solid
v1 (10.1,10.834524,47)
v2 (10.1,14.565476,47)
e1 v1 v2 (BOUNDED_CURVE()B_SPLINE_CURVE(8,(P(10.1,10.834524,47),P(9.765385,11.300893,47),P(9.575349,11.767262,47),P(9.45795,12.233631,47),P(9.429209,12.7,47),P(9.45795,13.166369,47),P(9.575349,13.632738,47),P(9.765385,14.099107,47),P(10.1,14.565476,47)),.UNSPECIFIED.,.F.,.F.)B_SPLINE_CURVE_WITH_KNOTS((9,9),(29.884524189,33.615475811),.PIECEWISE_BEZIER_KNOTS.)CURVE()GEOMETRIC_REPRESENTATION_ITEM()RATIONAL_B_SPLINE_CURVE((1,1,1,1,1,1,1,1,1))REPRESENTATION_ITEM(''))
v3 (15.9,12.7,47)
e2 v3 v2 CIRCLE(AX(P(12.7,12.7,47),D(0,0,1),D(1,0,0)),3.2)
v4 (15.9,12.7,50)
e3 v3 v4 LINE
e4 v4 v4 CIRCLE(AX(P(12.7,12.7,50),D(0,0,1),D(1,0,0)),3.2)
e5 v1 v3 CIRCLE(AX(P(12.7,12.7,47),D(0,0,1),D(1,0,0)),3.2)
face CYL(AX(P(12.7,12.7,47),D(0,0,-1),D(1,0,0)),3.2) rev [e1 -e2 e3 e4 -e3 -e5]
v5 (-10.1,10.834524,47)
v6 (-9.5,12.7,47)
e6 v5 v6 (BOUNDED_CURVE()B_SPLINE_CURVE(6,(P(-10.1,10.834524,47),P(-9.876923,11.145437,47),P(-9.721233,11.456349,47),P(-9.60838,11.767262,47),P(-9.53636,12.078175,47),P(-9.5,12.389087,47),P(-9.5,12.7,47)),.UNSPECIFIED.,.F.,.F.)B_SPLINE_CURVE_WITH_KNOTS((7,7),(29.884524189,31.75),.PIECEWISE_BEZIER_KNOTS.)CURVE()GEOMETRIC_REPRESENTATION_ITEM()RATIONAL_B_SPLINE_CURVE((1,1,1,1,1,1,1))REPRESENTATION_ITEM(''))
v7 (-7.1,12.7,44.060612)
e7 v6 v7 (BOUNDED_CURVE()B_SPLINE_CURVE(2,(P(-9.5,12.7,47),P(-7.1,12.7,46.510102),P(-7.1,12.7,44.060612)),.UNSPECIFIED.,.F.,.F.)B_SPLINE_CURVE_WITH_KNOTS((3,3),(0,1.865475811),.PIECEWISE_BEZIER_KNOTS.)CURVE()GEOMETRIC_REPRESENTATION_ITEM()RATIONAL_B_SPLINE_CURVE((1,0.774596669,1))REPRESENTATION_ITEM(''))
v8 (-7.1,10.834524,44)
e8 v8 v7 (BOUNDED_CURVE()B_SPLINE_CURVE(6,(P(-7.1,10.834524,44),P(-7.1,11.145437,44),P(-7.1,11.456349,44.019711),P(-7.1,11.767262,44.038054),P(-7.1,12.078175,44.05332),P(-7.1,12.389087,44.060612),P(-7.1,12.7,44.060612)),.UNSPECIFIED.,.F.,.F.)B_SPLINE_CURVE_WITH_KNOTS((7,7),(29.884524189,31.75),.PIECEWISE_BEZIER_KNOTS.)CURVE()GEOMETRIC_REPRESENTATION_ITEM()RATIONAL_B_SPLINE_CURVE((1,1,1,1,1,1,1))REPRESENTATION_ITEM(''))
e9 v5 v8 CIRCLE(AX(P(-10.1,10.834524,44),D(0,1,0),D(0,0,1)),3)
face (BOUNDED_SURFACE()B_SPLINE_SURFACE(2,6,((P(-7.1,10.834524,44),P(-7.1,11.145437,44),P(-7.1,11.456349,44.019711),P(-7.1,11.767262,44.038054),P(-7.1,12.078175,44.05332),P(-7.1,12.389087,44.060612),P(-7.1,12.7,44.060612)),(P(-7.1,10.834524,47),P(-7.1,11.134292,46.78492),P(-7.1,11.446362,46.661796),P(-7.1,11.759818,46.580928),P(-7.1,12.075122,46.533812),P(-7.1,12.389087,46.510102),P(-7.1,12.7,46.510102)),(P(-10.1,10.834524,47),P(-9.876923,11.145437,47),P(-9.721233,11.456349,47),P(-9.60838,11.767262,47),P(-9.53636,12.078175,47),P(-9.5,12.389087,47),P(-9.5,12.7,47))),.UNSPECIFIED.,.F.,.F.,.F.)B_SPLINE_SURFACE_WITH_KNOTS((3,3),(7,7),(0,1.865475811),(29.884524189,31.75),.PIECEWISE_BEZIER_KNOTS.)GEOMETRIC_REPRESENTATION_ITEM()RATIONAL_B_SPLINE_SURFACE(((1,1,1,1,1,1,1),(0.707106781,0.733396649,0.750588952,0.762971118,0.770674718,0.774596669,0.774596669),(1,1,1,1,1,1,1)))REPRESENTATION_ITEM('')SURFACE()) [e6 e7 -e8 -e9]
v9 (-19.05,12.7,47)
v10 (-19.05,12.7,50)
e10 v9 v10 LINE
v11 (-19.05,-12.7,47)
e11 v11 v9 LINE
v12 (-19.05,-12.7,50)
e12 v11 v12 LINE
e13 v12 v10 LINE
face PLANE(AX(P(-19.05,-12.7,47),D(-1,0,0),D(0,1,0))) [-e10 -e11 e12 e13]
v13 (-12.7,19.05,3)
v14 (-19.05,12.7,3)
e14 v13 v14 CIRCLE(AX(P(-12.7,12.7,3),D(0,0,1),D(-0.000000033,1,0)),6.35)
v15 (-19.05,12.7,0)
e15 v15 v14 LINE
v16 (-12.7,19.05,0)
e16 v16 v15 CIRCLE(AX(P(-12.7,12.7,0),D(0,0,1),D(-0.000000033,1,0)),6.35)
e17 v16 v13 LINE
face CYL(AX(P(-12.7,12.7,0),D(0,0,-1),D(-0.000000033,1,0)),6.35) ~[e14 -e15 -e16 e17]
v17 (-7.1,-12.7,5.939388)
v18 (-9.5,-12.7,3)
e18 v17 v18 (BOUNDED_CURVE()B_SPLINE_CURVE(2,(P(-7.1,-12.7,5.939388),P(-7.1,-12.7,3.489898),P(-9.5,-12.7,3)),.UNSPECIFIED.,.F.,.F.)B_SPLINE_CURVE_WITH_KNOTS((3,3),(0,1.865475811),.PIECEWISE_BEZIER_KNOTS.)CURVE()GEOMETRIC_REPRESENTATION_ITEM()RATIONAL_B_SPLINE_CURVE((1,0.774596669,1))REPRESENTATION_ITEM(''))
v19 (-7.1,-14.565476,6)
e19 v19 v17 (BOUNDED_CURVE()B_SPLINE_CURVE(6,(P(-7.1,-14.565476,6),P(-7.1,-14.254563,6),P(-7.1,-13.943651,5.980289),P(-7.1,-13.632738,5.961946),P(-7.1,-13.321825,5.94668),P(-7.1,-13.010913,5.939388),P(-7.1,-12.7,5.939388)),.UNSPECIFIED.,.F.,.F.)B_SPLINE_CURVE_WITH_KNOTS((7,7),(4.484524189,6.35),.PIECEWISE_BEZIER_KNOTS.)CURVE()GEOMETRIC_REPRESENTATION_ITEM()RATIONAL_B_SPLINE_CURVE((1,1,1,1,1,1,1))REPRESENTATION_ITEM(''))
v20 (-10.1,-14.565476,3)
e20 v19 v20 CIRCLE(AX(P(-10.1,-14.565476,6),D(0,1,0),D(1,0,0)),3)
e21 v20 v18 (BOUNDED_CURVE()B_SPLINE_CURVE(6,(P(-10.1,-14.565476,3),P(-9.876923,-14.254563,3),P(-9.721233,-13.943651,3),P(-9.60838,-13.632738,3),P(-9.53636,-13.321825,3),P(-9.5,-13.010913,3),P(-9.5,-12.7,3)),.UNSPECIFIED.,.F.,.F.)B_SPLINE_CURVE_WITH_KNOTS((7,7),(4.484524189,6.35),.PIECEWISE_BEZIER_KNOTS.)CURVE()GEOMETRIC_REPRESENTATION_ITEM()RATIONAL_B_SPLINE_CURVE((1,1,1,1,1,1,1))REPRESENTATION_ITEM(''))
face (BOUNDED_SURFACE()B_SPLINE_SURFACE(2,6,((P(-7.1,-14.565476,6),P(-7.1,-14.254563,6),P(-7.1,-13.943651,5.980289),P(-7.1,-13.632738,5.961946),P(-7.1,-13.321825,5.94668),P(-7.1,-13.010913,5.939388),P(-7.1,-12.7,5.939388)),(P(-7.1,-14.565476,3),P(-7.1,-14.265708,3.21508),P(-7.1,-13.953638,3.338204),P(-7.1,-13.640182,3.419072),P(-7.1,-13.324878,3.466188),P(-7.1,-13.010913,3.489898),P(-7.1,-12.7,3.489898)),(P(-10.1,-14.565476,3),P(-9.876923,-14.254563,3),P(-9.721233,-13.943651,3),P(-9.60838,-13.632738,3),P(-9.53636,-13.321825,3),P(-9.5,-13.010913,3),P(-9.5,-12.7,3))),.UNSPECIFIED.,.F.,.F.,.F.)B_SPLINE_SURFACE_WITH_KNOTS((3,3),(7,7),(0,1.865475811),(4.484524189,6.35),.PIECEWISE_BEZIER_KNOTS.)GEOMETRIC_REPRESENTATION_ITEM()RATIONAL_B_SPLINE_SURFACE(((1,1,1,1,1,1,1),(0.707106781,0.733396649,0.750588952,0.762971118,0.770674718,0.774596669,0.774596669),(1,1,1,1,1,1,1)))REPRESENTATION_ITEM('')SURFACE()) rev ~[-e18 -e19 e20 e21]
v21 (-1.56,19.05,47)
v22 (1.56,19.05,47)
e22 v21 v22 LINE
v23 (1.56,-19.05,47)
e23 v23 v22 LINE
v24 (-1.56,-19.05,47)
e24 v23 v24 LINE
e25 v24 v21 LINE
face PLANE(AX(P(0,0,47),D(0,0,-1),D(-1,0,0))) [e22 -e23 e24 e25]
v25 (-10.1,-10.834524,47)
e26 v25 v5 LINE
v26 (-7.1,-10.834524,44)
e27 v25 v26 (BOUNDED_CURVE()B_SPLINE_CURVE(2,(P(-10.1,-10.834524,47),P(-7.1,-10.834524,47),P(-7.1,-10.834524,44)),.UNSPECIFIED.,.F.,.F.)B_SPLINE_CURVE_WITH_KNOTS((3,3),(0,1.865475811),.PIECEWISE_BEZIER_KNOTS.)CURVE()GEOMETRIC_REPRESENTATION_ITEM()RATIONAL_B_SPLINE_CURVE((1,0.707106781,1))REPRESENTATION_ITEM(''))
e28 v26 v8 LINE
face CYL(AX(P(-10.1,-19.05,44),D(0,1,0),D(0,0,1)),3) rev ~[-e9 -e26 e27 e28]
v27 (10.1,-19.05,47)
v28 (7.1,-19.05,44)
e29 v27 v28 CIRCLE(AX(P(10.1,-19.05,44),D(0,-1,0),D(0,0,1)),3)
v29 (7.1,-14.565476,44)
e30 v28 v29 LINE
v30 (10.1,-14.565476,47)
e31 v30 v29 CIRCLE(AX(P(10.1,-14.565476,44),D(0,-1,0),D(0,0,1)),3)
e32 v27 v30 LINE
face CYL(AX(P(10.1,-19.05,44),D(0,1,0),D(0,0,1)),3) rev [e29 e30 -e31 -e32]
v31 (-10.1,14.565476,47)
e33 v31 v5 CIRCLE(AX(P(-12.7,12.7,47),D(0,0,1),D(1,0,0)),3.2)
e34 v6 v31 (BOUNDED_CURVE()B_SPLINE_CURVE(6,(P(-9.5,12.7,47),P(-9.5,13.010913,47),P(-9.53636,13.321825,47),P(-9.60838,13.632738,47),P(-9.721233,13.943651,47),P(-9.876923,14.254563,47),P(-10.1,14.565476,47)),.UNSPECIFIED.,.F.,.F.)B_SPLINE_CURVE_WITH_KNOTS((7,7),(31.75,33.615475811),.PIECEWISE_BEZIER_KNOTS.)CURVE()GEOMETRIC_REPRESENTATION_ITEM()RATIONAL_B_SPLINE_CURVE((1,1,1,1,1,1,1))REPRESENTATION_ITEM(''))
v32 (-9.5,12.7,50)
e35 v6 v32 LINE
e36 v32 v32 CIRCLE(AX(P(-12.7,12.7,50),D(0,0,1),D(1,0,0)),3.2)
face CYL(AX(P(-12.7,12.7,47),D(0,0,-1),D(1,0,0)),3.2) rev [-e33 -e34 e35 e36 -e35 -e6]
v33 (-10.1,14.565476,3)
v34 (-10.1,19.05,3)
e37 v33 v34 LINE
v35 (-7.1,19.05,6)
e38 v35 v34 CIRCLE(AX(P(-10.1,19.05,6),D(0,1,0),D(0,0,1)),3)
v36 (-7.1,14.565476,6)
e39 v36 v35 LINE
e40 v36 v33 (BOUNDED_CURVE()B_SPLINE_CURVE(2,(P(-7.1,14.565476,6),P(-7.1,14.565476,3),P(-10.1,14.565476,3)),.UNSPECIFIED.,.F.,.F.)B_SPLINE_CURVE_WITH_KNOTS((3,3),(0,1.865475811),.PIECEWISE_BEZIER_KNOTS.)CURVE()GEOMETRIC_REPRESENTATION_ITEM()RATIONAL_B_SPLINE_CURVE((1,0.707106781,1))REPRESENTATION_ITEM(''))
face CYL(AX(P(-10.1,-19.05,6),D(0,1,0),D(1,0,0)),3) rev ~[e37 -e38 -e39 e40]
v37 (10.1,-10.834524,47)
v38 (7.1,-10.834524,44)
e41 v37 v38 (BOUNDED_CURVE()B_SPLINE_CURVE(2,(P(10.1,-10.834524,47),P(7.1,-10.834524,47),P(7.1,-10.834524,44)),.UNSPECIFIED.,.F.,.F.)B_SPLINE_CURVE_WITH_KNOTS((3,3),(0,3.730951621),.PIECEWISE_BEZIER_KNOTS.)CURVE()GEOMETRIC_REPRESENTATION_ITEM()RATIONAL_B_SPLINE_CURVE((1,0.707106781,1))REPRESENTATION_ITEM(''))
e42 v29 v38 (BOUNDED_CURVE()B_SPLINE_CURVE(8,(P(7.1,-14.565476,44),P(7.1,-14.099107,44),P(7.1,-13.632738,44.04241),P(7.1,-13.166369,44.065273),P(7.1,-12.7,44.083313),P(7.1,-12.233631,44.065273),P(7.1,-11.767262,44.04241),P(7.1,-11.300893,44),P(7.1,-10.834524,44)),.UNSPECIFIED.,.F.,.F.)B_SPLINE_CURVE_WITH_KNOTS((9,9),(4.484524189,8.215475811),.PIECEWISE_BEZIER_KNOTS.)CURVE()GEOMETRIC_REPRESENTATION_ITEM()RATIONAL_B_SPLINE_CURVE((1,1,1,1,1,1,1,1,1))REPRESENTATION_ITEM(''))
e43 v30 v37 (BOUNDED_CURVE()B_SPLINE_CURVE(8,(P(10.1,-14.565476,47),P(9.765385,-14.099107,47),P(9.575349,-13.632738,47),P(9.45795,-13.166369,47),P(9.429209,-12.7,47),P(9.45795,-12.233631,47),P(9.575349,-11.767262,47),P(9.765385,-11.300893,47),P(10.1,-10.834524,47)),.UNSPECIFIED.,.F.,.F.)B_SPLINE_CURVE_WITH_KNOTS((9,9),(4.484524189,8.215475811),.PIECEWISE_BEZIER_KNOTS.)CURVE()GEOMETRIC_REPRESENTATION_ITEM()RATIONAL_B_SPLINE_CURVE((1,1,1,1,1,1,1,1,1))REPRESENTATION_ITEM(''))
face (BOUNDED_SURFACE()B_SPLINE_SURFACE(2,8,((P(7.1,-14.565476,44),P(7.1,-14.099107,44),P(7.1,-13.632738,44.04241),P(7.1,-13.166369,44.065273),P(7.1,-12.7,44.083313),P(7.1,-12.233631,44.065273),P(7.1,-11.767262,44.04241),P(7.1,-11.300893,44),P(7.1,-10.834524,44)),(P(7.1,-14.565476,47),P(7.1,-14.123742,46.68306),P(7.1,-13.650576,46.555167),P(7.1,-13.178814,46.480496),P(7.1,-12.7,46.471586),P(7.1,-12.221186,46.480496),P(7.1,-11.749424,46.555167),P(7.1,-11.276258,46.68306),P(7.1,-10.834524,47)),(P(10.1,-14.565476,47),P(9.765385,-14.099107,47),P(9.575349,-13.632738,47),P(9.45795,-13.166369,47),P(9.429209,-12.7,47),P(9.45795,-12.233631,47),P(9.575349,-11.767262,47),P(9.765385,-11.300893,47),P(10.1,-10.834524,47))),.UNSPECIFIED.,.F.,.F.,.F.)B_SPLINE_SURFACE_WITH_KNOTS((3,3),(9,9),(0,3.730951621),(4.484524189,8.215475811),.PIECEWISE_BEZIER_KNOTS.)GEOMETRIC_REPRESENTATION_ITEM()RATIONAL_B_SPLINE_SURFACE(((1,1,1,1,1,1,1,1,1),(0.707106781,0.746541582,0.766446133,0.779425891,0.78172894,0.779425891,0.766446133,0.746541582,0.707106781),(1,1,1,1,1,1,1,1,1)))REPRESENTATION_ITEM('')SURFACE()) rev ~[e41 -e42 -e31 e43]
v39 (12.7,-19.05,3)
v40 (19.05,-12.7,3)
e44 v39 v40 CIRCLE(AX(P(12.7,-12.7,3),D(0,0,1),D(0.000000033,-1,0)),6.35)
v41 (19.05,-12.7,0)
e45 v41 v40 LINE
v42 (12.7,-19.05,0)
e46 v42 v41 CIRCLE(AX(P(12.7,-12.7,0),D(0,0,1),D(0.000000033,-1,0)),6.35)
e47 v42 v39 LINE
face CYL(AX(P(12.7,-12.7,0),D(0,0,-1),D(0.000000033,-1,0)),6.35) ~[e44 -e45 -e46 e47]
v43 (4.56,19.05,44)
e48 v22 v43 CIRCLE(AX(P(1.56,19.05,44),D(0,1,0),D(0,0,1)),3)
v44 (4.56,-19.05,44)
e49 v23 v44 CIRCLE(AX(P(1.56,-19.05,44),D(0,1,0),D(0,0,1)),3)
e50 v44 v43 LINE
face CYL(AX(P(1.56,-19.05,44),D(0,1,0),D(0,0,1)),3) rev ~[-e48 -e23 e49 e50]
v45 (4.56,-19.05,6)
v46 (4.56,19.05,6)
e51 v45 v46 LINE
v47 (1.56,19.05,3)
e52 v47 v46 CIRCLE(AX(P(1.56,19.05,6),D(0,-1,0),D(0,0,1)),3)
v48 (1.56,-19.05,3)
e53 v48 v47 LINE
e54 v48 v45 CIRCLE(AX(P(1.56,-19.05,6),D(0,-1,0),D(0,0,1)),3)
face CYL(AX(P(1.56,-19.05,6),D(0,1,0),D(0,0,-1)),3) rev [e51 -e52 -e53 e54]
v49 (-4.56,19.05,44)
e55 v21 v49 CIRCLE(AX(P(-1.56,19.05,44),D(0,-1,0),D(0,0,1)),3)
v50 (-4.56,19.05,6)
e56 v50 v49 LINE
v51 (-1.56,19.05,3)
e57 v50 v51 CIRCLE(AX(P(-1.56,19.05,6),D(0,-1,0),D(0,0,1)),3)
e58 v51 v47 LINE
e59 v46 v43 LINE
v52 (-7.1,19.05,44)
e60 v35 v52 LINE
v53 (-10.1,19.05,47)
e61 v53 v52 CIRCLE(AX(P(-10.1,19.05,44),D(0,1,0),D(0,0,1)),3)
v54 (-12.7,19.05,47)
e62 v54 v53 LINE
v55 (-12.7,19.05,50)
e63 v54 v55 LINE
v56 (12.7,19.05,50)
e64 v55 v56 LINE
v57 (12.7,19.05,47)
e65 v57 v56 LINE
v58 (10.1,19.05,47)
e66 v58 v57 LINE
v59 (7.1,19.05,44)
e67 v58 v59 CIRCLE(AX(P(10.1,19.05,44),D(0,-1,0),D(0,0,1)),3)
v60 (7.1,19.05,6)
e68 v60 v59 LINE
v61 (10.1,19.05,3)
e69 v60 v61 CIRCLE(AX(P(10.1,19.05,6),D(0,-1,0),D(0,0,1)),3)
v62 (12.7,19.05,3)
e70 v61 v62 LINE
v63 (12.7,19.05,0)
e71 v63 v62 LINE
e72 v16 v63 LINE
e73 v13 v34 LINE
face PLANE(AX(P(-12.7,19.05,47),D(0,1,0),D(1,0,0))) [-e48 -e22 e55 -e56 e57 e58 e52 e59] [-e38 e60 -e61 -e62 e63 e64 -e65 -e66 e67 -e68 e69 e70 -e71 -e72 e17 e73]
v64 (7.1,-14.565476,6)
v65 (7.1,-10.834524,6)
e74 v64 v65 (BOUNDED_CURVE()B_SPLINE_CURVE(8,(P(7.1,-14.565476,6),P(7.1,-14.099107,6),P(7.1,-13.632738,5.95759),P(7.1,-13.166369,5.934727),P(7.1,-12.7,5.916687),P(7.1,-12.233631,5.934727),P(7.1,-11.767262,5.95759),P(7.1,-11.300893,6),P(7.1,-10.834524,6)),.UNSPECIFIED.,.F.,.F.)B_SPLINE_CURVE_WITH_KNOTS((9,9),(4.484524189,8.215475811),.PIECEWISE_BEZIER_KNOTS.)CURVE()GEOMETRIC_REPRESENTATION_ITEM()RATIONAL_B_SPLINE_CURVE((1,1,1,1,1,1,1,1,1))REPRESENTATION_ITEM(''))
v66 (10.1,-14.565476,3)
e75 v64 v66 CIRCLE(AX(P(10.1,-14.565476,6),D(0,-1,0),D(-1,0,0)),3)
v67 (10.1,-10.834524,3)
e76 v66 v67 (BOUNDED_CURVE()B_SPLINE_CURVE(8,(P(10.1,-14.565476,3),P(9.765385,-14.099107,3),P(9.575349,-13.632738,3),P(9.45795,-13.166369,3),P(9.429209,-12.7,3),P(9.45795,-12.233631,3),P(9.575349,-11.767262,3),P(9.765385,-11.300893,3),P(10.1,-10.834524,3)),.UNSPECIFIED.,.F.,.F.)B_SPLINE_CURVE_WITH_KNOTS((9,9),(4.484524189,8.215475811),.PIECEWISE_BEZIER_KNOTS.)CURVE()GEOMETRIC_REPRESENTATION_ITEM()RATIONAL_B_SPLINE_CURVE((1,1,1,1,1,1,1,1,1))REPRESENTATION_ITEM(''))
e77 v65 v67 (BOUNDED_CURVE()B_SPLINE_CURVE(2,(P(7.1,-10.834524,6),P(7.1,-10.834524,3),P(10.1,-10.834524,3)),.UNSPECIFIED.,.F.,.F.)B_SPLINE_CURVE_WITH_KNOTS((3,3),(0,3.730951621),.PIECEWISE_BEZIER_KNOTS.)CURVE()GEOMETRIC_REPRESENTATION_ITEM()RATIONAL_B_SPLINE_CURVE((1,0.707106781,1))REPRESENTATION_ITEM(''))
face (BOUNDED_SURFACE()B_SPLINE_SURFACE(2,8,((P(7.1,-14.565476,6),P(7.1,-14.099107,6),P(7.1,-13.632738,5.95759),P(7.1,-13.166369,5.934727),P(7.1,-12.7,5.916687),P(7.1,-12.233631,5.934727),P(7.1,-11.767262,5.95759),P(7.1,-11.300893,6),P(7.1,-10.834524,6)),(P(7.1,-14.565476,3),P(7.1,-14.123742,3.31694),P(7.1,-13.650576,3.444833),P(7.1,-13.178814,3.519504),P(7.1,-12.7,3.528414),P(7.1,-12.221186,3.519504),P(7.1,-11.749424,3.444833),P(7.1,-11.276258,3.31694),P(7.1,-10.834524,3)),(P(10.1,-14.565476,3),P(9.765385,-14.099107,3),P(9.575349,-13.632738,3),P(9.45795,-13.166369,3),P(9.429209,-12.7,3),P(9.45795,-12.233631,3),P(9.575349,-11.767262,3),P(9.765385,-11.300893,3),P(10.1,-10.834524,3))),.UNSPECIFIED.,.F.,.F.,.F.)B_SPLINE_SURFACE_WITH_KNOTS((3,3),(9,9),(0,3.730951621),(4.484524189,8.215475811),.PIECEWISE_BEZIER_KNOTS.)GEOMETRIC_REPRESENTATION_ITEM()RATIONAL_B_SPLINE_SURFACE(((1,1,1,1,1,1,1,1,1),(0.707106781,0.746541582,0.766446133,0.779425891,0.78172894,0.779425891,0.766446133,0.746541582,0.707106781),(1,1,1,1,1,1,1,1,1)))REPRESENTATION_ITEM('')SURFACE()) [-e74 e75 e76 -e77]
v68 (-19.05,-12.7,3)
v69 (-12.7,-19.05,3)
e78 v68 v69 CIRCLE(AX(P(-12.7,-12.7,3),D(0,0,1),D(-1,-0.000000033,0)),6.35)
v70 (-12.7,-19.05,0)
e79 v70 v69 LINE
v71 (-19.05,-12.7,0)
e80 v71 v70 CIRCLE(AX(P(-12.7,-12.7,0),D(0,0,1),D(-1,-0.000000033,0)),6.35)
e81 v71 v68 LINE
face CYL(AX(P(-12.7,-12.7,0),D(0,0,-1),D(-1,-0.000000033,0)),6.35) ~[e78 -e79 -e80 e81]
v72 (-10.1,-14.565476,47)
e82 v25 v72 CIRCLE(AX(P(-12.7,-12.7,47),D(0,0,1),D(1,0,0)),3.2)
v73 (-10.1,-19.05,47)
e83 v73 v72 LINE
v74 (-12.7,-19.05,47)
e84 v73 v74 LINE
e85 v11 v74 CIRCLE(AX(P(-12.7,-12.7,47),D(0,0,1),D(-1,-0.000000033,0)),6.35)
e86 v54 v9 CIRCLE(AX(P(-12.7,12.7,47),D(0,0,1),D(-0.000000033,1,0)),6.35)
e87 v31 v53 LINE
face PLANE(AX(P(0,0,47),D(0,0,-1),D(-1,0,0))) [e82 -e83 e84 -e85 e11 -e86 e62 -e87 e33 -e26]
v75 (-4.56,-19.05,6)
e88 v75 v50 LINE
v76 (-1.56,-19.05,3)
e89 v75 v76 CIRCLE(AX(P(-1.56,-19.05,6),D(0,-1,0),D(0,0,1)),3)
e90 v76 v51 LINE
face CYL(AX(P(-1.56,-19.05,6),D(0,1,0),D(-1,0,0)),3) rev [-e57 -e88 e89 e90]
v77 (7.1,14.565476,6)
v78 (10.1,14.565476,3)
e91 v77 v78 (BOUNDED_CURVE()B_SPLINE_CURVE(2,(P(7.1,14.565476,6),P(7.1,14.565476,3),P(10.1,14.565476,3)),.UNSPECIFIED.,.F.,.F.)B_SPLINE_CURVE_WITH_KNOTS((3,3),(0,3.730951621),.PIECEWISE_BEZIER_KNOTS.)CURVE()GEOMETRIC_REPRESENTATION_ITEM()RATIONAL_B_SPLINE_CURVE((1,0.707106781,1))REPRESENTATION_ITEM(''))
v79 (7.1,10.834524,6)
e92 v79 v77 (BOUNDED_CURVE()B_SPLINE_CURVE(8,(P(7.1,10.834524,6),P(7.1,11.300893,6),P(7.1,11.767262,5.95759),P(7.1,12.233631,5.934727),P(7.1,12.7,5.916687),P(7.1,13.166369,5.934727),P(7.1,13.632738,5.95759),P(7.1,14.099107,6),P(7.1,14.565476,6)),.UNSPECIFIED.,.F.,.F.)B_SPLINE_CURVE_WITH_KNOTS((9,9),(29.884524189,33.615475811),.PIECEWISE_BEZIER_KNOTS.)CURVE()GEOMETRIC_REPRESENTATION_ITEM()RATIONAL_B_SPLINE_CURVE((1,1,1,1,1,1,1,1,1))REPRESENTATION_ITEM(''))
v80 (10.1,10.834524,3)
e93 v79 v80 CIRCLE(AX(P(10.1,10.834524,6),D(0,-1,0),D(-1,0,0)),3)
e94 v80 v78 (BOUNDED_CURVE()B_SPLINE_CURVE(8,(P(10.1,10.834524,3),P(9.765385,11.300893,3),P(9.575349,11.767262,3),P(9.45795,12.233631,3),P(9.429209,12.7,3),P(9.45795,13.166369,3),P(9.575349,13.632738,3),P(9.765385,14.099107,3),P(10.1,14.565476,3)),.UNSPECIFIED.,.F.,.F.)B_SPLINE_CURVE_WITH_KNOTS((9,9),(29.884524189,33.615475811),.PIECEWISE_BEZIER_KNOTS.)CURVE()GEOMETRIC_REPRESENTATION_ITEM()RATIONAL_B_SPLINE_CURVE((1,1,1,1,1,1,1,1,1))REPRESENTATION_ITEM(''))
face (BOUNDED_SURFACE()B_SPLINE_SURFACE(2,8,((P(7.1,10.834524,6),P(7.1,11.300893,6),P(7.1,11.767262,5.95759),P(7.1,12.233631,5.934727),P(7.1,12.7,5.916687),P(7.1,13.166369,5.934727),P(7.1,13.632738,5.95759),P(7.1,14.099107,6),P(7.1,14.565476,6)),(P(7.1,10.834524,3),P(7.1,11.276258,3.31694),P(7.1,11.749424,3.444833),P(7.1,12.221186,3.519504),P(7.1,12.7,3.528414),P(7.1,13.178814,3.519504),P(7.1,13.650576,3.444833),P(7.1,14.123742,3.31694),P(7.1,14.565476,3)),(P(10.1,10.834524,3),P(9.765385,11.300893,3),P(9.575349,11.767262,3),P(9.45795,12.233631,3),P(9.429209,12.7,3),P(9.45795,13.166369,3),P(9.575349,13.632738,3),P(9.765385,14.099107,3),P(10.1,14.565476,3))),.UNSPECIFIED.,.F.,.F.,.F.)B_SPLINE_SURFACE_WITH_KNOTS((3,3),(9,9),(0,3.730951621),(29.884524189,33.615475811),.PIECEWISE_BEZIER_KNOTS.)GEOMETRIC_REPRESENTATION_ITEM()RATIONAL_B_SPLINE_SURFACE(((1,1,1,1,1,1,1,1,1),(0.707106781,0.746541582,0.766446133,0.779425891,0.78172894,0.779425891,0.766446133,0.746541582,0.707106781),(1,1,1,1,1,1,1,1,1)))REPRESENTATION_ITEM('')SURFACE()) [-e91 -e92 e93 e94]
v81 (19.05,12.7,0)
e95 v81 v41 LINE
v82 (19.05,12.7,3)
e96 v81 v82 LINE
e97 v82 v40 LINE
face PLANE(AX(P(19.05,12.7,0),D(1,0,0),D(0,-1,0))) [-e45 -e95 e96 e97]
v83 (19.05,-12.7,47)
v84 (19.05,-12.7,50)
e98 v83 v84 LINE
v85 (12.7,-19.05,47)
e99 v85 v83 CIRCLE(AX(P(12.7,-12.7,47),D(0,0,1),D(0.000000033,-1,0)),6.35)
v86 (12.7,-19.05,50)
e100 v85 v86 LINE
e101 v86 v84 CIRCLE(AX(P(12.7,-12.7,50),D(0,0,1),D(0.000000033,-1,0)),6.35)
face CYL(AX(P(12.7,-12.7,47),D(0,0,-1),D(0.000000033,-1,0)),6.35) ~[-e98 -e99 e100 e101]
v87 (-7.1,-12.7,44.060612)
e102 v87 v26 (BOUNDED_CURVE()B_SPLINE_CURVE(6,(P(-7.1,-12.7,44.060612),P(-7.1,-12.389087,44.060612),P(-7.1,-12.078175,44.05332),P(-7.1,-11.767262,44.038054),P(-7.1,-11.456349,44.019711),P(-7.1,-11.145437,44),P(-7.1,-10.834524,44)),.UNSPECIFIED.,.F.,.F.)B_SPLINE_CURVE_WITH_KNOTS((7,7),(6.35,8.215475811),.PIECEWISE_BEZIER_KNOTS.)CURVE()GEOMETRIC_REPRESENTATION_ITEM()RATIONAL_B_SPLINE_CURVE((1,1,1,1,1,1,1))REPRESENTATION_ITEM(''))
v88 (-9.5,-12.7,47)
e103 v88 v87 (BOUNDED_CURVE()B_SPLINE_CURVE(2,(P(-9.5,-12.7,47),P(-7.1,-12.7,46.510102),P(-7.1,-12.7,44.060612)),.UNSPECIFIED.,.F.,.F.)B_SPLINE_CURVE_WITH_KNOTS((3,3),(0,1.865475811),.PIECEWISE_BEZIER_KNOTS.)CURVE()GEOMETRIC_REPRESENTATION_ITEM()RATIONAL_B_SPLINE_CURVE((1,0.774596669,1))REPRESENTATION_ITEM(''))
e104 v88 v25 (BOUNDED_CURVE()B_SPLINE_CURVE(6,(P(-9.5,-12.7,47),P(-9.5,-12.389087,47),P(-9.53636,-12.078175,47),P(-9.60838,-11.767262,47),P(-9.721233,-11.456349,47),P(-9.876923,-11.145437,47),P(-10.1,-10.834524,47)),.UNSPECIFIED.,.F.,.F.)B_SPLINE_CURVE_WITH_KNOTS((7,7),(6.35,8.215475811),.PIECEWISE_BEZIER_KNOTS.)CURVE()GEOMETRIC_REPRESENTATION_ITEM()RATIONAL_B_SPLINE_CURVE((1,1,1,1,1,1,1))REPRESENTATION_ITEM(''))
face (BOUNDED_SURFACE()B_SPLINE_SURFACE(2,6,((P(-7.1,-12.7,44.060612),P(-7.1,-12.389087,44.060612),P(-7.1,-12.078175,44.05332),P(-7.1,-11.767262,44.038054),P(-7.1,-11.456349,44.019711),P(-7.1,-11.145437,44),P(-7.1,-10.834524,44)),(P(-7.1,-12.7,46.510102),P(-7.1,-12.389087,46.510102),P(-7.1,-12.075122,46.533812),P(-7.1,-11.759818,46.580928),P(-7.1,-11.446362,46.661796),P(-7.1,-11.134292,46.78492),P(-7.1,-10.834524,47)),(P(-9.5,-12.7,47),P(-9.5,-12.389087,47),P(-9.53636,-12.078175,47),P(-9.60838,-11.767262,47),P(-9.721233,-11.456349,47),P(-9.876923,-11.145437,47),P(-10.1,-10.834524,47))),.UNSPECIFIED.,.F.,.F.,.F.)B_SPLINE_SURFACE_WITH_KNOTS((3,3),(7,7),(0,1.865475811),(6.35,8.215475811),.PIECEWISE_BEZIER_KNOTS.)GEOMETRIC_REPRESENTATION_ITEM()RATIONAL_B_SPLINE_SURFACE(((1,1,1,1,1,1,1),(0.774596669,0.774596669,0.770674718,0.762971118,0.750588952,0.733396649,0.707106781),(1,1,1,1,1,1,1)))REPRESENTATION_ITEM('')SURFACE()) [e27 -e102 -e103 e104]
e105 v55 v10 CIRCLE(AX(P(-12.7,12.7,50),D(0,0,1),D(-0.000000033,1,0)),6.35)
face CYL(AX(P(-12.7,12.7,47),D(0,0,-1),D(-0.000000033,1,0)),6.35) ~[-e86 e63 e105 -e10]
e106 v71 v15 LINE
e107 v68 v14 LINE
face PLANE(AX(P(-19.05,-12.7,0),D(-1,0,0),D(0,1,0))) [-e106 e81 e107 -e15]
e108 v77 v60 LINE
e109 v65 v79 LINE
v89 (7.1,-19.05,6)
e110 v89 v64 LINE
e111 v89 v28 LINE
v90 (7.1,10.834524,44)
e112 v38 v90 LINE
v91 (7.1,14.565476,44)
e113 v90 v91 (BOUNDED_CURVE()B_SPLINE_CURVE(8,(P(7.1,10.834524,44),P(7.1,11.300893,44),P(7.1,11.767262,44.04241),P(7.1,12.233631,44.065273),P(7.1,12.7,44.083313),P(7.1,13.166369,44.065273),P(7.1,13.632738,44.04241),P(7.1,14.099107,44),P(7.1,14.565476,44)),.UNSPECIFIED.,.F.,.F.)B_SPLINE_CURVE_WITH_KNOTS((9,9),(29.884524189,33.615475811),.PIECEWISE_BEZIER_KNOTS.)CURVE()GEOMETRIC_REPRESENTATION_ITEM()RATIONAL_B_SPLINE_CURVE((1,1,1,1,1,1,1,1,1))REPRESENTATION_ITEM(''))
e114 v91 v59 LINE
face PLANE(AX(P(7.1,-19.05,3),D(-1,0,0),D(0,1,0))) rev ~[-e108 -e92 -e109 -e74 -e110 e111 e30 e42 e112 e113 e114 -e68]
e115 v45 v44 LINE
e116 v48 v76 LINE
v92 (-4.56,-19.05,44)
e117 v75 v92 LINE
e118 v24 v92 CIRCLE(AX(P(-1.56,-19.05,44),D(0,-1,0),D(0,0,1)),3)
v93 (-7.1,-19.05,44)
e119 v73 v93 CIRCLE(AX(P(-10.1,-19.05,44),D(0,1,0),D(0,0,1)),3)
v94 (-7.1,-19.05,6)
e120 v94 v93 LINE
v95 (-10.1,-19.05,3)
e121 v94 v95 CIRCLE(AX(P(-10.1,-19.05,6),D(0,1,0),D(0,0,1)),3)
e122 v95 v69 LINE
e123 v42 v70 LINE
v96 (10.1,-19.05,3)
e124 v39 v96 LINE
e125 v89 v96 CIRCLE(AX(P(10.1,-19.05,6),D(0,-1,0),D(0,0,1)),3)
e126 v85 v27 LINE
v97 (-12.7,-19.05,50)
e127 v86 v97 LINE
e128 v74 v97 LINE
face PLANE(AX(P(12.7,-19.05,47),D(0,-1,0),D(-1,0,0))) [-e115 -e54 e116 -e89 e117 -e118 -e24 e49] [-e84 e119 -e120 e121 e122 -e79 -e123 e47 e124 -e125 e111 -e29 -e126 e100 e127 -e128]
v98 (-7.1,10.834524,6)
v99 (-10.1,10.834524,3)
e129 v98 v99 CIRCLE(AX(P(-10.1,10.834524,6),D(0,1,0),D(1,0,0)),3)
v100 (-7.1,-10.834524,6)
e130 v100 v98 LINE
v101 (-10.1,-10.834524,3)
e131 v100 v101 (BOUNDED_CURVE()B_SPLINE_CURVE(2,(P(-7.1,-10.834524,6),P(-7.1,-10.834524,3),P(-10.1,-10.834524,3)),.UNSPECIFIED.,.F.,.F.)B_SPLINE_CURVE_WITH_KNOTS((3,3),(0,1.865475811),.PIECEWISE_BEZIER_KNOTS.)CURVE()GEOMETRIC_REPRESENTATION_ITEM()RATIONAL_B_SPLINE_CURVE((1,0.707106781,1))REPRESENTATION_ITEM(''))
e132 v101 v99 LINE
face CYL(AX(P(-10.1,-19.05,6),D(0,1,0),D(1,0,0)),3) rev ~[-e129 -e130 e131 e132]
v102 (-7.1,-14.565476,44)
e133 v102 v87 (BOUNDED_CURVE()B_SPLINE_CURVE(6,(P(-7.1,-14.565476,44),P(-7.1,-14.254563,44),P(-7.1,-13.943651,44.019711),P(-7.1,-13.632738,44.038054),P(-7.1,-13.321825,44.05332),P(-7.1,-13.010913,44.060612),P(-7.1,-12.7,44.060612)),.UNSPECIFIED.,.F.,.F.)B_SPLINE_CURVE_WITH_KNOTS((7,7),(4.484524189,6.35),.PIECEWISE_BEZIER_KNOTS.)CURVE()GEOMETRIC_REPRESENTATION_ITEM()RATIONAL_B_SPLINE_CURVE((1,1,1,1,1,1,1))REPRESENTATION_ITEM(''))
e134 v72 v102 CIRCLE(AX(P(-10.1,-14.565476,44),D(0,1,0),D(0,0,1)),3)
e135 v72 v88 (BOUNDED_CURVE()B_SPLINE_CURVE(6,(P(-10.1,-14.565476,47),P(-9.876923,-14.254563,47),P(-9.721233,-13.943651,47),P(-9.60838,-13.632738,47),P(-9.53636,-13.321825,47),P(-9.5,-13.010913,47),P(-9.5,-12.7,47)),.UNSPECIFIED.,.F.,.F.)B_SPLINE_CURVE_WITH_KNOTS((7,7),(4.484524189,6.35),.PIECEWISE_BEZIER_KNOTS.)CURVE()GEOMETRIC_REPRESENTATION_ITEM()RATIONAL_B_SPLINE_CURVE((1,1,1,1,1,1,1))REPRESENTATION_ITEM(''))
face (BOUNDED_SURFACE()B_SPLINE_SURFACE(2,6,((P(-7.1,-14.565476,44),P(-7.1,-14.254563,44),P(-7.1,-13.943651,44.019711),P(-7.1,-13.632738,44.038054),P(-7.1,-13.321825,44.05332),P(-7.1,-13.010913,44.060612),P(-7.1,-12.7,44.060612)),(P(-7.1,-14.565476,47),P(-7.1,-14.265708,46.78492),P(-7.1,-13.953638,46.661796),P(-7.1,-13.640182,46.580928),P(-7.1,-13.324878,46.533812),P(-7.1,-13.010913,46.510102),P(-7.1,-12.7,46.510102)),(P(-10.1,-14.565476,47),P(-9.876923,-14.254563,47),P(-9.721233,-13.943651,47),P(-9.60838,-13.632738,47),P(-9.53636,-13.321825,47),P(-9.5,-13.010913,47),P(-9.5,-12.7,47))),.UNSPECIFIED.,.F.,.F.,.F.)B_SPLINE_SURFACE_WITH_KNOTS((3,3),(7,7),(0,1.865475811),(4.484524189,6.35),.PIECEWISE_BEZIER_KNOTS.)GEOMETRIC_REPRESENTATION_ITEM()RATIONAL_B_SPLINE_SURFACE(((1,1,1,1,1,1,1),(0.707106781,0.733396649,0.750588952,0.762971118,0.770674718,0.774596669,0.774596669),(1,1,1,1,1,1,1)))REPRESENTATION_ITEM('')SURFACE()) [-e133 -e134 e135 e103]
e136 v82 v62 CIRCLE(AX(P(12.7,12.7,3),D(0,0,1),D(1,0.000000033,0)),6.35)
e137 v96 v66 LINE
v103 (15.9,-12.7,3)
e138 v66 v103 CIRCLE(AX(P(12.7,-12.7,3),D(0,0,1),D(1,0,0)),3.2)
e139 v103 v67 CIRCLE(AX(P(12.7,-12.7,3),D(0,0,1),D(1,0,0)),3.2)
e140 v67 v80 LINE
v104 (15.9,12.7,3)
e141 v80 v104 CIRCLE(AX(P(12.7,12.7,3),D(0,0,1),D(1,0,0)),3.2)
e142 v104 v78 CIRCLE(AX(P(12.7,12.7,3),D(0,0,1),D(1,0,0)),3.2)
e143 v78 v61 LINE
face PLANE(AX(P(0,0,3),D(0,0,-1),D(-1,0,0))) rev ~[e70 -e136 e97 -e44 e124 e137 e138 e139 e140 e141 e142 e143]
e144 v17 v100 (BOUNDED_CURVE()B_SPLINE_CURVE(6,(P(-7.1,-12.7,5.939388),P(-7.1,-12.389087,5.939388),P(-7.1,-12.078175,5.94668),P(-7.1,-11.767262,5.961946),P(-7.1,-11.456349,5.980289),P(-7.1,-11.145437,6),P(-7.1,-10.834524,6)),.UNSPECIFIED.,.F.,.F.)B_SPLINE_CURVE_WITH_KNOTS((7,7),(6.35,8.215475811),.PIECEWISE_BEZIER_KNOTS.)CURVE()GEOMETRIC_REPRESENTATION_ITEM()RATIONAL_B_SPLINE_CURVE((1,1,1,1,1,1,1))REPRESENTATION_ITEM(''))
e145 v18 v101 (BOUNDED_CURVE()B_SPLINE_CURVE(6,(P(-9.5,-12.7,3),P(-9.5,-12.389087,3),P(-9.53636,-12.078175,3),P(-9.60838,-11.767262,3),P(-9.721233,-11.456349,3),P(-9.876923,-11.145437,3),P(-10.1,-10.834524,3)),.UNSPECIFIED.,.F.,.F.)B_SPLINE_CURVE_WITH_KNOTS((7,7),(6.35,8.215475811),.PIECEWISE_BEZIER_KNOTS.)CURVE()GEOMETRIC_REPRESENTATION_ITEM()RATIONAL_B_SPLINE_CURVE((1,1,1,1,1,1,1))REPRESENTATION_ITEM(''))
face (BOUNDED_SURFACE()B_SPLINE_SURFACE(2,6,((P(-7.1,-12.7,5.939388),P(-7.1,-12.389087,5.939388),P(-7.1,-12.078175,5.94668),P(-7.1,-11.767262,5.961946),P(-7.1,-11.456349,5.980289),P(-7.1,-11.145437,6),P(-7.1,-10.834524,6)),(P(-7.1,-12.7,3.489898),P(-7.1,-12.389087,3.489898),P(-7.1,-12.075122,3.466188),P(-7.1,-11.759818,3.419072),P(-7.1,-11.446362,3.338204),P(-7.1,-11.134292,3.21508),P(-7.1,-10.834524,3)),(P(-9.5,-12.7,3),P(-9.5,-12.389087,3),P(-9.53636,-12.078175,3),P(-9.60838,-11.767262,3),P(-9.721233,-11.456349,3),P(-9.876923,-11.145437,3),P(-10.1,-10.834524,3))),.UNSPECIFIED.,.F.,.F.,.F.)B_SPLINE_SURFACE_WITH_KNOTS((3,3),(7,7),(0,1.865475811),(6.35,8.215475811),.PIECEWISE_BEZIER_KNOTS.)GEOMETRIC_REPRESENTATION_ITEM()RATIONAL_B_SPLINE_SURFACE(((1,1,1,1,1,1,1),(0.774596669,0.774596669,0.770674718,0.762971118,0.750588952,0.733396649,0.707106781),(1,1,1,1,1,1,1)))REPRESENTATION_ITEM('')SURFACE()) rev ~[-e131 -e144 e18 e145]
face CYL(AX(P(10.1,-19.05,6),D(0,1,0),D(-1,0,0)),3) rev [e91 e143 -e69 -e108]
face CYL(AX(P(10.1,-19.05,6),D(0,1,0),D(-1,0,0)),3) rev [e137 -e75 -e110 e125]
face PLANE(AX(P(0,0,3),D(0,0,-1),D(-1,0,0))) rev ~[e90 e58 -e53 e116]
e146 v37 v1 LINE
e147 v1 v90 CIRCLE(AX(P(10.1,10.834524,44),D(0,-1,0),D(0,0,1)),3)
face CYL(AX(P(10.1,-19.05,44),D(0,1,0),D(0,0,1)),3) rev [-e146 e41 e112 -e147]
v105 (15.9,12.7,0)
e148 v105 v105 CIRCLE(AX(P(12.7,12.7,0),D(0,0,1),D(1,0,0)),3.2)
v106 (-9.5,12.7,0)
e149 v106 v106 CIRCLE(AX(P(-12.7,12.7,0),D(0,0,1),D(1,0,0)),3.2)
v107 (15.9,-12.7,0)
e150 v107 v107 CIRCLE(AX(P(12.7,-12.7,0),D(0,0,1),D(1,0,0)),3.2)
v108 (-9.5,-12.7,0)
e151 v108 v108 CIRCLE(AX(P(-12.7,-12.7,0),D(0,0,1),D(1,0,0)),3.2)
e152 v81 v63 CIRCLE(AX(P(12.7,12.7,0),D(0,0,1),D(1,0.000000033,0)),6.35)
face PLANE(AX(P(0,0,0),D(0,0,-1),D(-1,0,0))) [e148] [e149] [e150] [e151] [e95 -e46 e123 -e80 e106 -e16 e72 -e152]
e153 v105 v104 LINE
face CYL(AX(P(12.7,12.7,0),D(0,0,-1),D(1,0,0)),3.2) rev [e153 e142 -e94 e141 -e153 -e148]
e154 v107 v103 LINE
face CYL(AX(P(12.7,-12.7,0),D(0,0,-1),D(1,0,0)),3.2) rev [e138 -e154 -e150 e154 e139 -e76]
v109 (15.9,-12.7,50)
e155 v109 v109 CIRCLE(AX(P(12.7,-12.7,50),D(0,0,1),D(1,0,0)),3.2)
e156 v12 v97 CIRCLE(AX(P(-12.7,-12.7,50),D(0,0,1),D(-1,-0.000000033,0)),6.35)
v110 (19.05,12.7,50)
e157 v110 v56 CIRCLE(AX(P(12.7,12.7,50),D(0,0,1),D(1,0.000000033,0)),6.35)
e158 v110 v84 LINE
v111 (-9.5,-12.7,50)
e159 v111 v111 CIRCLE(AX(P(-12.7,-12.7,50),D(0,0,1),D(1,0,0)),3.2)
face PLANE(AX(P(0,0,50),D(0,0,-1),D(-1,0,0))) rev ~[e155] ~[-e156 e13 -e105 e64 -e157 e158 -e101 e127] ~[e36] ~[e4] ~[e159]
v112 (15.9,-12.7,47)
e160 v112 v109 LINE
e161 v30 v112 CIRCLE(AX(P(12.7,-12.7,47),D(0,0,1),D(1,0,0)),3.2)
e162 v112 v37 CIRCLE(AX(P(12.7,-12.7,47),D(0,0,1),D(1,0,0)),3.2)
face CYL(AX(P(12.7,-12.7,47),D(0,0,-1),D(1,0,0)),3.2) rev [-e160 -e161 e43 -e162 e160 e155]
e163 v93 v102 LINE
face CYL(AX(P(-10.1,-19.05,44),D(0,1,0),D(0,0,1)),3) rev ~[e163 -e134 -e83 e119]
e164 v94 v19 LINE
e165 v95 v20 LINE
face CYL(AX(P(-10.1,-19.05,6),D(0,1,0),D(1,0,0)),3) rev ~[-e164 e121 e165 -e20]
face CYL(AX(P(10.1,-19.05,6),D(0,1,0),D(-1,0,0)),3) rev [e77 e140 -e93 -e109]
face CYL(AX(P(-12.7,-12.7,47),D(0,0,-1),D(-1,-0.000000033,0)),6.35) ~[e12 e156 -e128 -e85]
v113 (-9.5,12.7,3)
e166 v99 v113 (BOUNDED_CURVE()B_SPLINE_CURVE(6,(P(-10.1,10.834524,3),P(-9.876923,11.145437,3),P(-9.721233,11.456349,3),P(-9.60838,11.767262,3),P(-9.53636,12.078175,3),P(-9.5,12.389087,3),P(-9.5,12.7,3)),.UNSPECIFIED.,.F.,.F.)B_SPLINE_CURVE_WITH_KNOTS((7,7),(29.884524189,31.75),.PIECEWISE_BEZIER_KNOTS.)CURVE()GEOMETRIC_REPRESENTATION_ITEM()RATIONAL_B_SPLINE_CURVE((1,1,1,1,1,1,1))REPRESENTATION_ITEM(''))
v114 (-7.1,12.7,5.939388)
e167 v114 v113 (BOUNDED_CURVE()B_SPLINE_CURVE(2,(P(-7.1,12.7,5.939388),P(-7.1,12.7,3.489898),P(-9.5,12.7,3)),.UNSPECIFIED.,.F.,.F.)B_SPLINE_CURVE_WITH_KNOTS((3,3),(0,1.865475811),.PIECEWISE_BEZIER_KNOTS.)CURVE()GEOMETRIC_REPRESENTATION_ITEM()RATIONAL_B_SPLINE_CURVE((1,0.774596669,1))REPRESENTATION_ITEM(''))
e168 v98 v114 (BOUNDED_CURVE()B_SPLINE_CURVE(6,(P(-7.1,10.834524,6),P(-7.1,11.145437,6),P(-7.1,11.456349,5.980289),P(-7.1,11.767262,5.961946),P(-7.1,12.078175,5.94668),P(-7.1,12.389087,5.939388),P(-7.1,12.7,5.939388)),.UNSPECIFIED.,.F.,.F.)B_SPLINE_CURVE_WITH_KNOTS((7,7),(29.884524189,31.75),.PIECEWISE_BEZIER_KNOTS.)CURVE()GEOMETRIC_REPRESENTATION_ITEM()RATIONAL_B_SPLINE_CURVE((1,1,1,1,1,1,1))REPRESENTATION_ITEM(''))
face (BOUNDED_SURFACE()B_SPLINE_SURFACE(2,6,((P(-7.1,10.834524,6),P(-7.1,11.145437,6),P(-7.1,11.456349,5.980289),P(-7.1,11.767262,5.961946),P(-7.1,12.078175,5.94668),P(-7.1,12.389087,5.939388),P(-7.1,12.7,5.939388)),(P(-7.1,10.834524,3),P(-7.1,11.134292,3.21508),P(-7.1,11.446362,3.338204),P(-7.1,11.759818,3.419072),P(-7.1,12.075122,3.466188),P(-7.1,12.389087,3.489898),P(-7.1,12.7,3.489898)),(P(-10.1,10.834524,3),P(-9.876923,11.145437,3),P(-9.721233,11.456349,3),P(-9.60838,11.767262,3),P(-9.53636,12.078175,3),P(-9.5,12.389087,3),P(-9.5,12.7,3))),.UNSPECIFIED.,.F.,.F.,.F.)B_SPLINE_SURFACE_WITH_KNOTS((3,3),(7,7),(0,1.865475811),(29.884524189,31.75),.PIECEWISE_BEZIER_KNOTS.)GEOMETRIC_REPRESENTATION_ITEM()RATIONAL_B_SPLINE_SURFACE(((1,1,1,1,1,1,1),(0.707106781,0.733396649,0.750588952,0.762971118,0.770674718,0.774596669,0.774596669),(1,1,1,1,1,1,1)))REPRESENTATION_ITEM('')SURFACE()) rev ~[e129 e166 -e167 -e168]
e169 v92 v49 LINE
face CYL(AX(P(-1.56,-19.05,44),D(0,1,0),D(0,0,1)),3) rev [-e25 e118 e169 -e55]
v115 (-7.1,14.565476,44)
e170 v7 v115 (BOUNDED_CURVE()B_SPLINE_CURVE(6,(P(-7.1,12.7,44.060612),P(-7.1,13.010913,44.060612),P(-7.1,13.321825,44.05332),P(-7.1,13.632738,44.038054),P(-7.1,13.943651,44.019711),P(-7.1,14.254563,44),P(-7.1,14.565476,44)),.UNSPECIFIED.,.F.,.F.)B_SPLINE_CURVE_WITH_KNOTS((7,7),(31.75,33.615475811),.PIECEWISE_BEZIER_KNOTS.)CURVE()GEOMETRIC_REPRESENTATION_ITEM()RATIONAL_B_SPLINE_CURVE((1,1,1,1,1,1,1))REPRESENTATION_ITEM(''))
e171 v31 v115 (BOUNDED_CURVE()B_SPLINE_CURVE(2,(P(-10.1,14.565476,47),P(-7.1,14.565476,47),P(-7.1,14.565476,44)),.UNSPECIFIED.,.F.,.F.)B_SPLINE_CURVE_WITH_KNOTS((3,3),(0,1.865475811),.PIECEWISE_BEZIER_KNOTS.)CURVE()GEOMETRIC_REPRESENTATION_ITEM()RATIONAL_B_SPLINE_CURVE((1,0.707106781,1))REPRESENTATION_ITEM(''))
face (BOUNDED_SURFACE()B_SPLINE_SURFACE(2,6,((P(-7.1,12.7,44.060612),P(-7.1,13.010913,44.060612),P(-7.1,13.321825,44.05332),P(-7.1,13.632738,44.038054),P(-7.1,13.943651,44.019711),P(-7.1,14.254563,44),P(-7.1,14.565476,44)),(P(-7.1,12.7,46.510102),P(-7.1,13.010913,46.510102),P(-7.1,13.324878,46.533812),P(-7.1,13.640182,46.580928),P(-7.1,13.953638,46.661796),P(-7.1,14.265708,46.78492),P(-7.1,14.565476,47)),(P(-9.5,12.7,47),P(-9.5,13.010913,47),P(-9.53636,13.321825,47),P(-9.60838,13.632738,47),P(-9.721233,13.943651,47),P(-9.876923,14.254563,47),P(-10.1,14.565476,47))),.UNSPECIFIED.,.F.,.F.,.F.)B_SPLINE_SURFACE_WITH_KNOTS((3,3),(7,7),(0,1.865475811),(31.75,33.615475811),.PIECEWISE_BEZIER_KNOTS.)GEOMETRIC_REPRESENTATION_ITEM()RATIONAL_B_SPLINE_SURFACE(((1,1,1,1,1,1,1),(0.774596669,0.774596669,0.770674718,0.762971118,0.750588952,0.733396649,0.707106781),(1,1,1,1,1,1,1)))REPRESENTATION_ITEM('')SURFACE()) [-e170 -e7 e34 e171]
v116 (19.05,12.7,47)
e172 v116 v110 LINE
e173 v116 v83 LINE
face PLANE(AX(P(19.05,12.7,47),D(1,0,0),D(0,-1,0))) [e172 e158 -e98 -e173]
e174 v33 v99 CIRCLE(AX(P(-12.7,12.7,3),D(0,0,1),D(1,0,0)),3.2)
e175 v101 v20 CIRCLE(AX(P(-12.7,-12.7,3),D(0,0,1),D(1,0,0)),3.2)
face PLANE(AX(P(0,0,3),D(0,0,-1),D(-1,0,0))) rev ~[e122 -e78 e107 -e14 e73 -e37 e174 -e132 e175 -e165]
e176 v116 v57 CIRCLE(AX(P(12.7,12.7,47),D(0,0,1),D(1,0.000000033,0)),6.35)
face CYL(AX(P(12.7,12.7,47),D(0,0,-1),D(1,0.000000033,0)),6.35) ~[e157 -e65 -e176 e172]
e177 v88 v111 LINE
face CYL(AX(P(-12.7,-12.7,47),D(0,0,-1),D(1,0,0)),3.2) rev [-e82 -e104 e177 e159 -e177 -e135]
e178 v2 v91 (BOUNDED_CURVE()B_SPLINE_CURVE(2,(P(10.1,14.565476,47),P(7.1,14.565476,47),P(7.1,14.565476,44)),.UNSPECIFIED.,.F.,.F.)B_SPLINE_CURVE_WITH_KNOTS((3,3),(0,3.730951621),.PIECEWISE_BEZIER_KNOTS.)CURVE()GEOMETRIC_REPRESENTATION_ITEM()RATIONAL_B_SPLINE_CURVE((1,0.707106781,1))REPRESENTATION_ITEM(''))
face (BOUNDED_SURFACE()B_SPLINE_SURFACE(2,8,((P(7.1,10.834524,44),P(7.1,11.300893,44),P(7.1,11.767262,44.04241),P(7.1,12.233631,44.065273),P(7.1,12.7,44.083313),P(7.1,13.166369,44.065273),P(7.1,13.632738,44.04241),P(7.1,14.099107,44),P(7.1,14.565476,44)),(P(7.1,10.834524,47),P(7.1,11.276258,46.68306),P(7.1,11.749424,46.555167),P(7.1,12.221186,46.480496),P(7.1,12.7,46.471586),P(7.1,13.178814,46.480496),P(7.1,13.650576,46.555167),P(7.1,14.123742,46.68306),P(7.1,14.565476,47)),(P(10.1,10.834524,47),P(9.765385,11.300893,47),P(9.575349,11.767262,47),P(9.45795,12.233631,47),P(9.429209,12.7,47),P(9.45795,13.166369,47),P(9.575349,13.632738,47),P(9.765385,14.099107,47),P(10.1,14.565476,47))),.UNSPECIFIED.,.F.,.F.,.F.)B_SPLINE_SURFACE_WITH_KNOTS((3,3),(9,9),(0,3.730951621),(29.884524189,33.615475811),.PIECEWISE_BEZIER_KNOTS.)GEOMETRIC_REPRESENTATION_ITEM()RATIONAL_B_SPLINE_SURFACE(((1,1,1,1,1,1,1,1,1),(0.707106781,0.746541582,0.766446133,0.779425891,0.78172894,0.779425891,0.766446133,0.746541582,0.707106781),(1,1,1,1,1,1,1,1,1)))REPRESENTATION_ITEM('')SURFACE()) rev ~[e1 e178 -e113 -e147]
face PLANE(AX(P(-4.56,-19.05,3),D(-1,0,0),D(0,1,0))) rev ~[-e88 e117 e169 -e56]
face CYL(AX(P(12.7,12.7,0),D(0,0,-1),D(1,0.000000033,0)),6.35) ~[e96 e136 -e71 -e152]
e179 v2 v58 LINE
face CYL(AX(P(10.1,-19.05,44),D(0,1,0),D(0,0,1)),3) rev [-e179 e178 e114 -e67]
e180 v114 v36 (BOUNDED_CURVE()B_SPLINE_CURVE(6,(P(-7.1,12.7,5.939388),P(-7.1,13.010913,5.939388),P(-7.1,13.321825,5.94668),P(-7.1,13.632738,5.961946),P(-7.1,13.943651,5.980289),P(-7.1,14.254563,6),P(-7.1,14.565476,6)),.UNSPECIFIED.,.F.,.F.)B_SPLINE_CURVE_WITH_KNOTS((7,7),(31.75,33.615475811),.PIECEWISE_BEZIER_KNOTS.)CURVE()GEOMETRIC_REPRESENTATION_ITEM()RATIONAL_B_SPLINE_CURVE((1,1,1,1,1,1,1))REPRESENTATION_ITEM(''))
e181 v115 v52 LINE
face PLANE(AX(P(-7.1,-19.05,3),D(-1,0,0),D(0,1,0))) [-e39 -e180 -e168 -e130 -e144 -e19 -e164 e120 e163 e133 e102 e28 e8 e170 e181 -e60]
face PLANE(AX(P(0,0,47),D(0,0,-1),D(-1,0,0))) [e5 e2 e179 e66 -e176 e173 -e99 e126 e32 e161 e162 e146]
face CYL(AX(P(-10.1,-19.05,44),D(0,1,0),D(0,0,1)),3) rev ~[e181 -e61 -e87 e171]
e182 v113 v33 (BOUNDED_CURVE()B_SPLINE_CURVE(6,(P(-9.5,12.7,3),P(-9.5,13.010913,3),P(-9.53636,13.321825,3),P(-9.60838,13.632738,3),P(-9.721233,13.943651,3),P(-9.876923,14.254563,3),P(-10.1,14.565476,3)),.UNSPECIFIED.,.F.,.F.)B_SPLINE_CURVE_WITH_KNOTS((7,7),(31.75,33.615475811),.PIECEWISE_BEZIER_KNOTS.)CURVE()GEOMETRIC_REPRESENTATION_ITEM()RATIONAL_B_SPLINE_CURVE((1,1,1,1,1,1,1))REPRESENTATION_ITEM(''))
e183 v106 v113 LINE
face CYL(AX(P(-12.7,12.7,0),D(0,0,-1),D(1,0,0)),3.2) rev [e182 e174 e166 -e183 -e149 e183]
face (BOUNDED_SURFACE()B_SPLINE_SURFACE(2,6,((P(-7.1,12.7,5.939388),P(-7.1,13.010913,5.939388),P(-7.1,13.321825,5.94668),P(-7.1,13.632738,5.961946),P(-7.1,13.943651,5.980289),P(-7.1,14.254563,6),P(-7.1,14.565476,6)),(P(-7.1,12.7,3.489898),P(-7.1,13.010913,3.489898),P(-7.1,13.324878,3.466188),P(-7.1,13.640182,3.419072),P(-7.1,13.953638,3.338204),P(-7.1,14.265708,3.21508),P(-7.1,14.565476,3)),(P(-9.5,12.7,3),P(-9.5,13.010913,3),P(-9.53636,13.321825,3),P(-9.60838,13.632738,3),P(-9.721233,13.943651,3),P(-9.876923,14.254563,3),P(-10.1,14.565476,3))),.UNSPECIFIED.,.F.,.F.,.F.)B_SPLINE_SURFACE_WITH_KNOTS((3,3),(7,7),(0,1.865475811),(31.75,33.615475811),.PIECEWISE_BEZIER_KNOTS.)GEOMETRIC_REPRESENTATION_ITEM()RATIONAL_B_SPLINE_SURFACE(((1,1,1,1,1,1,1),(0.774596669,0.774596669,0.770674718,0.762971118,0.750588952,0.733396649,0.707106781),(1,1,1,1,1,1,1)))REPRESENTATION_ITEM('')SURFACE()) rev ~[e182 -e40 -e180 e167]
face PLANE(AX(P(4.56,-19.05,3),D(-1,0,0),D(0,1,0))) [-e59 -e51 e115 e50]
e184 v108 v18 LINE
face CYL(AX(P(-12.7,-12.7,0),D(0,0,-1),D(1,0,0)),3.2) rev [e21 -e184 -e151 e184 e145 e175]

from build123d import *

# Parameters (mm, degrees)
SKETCH_R     = 3.2
PAD_DEPTH    = 3
SKETCH001_W  = 2.54
SKETCH001_H  = 38.1
PAD001_DEPTH = 44
SKETCH002_R  = 3.2
PAD002_DEPTH = 3
FILLET_R     = 3


with BuildPart() as part:
    # Sketch → Pad (new body)
    with BuildSketch(Plane.XY):
        with BuildLine():
            Line((-12.7, 19.05), (12.7, 19.05))
            ThreePointArc((19.05, 12.7), (17.190128, 17.190128), (12.7, 19.05))
            Line((19.05, 12.7), (19.05, -12.7))
            ThreePointArc((12.7, -19.05), (17.190128, -17.190128), (19.05, -12.7))
            Line((12.7, -19.05), (-12.7, -19.05))
            ThreePointArc((-19.05, -12.7), (-17.190128, -17.190128), (-12.7, -19.05))
            Line((-19.05, -12.7), (-19.05, 12.7))
            ThreePointArc((-12.7, 19.05), (-17.190128, 17.190128), (-19.05, 12.7))
        make_face()
        with Locations((-12.7, 12.7)):
            Circle(SKETCH_R, mode=Mode.SUBTRACT)
        with Locations((12.7, 12.7)):
            Circle(SKETCH_R, mode=Mode.SUBTRACT)
        with Locations((12.7, -12.7)):
            Circle(SKETCH_R, mode=Mode.SUBTRACT)
        with Locations((-12.7, -12.7)):
            Circle(SKETCH_R, mode=Mode.SUBTRACT)
    extrude(amount=PAD_DEPTH)

    # Sketch001 (on Face14 of Pad) → Pad001 (join)
    with BuildSketch(Plane.XY.offset(3)):
        with Locations((-5.83, 0)):
            Rectangle(SKETCH001_W, SKETCH001_H)
        with Locations((5.83, 0)):
            Rectangle(SKETCH001_W, SKETCH001_H)
    extrude(amount=PAD001_DEPTH)

    # Sketch002 (on Face22 of Pad001) → Pad002 (join)
    with BuildSketch(Plane.XY.offset(47)):
        with BuildLine():
            Line((-12.7, 19.05), (12.7, 19.05))
            ThreePointArc((19.05, 12.7), (17.190128, 17.190128), (12.7, 19.05))
            Line((19.05, 12.7), (19.05, -12.7))
            ThreePointArc((12.7, -19.05), (17.190128, -17.190128), (19.05, -12.7))
            Line((12.7, -19.05), (-12.7, -19.05))
            ThreePointArc((-19.05, -12.7), (-17.190128, -17.190128), (-12.7, -19.05))
            Line((-19.05, -12.7), (-19.05, 12.7))
            ThreePointArc((-12.7, 19.05), (-17.190128, 17.190128), (-19.05, 12.7))
        make_face()
        with Locations((-12.7, 12.7)):
            Circle(SKETCH002_R, mode=Mode.SUBTRACT)
        with Locations((12.7, 12.7)):
            Circle(SKETCH002_R, mode=Mode.SUBTRACT)
        with Locations((12.7, -12.7)):
            Circle(SKETCH002_R, mode=Mode.SUBTRACT)
        with Locations((-12.7, -12.7)):
            Circle(SKETCH002_R, mode=Mode.SUBTRACT)
    extrude(amount=PAD002_DEPTH)

    # Fillet
    fillet_edges = [part.edges().sort_by_distance(p)[0] for p in [
        (4.56, 0, 3),
        (-7.1, 0, 3),
        (-4.56, 0, 3),
        (7.1, 0, 3),
        (7.1, 0, 47),
        (-4.56, 0, 47),
        (4.56, 0, 47),
        (-7.1, 0, 47),
    ]]
    fillet(fillet_edges, radius=FILLET_R)


solid = part.part
